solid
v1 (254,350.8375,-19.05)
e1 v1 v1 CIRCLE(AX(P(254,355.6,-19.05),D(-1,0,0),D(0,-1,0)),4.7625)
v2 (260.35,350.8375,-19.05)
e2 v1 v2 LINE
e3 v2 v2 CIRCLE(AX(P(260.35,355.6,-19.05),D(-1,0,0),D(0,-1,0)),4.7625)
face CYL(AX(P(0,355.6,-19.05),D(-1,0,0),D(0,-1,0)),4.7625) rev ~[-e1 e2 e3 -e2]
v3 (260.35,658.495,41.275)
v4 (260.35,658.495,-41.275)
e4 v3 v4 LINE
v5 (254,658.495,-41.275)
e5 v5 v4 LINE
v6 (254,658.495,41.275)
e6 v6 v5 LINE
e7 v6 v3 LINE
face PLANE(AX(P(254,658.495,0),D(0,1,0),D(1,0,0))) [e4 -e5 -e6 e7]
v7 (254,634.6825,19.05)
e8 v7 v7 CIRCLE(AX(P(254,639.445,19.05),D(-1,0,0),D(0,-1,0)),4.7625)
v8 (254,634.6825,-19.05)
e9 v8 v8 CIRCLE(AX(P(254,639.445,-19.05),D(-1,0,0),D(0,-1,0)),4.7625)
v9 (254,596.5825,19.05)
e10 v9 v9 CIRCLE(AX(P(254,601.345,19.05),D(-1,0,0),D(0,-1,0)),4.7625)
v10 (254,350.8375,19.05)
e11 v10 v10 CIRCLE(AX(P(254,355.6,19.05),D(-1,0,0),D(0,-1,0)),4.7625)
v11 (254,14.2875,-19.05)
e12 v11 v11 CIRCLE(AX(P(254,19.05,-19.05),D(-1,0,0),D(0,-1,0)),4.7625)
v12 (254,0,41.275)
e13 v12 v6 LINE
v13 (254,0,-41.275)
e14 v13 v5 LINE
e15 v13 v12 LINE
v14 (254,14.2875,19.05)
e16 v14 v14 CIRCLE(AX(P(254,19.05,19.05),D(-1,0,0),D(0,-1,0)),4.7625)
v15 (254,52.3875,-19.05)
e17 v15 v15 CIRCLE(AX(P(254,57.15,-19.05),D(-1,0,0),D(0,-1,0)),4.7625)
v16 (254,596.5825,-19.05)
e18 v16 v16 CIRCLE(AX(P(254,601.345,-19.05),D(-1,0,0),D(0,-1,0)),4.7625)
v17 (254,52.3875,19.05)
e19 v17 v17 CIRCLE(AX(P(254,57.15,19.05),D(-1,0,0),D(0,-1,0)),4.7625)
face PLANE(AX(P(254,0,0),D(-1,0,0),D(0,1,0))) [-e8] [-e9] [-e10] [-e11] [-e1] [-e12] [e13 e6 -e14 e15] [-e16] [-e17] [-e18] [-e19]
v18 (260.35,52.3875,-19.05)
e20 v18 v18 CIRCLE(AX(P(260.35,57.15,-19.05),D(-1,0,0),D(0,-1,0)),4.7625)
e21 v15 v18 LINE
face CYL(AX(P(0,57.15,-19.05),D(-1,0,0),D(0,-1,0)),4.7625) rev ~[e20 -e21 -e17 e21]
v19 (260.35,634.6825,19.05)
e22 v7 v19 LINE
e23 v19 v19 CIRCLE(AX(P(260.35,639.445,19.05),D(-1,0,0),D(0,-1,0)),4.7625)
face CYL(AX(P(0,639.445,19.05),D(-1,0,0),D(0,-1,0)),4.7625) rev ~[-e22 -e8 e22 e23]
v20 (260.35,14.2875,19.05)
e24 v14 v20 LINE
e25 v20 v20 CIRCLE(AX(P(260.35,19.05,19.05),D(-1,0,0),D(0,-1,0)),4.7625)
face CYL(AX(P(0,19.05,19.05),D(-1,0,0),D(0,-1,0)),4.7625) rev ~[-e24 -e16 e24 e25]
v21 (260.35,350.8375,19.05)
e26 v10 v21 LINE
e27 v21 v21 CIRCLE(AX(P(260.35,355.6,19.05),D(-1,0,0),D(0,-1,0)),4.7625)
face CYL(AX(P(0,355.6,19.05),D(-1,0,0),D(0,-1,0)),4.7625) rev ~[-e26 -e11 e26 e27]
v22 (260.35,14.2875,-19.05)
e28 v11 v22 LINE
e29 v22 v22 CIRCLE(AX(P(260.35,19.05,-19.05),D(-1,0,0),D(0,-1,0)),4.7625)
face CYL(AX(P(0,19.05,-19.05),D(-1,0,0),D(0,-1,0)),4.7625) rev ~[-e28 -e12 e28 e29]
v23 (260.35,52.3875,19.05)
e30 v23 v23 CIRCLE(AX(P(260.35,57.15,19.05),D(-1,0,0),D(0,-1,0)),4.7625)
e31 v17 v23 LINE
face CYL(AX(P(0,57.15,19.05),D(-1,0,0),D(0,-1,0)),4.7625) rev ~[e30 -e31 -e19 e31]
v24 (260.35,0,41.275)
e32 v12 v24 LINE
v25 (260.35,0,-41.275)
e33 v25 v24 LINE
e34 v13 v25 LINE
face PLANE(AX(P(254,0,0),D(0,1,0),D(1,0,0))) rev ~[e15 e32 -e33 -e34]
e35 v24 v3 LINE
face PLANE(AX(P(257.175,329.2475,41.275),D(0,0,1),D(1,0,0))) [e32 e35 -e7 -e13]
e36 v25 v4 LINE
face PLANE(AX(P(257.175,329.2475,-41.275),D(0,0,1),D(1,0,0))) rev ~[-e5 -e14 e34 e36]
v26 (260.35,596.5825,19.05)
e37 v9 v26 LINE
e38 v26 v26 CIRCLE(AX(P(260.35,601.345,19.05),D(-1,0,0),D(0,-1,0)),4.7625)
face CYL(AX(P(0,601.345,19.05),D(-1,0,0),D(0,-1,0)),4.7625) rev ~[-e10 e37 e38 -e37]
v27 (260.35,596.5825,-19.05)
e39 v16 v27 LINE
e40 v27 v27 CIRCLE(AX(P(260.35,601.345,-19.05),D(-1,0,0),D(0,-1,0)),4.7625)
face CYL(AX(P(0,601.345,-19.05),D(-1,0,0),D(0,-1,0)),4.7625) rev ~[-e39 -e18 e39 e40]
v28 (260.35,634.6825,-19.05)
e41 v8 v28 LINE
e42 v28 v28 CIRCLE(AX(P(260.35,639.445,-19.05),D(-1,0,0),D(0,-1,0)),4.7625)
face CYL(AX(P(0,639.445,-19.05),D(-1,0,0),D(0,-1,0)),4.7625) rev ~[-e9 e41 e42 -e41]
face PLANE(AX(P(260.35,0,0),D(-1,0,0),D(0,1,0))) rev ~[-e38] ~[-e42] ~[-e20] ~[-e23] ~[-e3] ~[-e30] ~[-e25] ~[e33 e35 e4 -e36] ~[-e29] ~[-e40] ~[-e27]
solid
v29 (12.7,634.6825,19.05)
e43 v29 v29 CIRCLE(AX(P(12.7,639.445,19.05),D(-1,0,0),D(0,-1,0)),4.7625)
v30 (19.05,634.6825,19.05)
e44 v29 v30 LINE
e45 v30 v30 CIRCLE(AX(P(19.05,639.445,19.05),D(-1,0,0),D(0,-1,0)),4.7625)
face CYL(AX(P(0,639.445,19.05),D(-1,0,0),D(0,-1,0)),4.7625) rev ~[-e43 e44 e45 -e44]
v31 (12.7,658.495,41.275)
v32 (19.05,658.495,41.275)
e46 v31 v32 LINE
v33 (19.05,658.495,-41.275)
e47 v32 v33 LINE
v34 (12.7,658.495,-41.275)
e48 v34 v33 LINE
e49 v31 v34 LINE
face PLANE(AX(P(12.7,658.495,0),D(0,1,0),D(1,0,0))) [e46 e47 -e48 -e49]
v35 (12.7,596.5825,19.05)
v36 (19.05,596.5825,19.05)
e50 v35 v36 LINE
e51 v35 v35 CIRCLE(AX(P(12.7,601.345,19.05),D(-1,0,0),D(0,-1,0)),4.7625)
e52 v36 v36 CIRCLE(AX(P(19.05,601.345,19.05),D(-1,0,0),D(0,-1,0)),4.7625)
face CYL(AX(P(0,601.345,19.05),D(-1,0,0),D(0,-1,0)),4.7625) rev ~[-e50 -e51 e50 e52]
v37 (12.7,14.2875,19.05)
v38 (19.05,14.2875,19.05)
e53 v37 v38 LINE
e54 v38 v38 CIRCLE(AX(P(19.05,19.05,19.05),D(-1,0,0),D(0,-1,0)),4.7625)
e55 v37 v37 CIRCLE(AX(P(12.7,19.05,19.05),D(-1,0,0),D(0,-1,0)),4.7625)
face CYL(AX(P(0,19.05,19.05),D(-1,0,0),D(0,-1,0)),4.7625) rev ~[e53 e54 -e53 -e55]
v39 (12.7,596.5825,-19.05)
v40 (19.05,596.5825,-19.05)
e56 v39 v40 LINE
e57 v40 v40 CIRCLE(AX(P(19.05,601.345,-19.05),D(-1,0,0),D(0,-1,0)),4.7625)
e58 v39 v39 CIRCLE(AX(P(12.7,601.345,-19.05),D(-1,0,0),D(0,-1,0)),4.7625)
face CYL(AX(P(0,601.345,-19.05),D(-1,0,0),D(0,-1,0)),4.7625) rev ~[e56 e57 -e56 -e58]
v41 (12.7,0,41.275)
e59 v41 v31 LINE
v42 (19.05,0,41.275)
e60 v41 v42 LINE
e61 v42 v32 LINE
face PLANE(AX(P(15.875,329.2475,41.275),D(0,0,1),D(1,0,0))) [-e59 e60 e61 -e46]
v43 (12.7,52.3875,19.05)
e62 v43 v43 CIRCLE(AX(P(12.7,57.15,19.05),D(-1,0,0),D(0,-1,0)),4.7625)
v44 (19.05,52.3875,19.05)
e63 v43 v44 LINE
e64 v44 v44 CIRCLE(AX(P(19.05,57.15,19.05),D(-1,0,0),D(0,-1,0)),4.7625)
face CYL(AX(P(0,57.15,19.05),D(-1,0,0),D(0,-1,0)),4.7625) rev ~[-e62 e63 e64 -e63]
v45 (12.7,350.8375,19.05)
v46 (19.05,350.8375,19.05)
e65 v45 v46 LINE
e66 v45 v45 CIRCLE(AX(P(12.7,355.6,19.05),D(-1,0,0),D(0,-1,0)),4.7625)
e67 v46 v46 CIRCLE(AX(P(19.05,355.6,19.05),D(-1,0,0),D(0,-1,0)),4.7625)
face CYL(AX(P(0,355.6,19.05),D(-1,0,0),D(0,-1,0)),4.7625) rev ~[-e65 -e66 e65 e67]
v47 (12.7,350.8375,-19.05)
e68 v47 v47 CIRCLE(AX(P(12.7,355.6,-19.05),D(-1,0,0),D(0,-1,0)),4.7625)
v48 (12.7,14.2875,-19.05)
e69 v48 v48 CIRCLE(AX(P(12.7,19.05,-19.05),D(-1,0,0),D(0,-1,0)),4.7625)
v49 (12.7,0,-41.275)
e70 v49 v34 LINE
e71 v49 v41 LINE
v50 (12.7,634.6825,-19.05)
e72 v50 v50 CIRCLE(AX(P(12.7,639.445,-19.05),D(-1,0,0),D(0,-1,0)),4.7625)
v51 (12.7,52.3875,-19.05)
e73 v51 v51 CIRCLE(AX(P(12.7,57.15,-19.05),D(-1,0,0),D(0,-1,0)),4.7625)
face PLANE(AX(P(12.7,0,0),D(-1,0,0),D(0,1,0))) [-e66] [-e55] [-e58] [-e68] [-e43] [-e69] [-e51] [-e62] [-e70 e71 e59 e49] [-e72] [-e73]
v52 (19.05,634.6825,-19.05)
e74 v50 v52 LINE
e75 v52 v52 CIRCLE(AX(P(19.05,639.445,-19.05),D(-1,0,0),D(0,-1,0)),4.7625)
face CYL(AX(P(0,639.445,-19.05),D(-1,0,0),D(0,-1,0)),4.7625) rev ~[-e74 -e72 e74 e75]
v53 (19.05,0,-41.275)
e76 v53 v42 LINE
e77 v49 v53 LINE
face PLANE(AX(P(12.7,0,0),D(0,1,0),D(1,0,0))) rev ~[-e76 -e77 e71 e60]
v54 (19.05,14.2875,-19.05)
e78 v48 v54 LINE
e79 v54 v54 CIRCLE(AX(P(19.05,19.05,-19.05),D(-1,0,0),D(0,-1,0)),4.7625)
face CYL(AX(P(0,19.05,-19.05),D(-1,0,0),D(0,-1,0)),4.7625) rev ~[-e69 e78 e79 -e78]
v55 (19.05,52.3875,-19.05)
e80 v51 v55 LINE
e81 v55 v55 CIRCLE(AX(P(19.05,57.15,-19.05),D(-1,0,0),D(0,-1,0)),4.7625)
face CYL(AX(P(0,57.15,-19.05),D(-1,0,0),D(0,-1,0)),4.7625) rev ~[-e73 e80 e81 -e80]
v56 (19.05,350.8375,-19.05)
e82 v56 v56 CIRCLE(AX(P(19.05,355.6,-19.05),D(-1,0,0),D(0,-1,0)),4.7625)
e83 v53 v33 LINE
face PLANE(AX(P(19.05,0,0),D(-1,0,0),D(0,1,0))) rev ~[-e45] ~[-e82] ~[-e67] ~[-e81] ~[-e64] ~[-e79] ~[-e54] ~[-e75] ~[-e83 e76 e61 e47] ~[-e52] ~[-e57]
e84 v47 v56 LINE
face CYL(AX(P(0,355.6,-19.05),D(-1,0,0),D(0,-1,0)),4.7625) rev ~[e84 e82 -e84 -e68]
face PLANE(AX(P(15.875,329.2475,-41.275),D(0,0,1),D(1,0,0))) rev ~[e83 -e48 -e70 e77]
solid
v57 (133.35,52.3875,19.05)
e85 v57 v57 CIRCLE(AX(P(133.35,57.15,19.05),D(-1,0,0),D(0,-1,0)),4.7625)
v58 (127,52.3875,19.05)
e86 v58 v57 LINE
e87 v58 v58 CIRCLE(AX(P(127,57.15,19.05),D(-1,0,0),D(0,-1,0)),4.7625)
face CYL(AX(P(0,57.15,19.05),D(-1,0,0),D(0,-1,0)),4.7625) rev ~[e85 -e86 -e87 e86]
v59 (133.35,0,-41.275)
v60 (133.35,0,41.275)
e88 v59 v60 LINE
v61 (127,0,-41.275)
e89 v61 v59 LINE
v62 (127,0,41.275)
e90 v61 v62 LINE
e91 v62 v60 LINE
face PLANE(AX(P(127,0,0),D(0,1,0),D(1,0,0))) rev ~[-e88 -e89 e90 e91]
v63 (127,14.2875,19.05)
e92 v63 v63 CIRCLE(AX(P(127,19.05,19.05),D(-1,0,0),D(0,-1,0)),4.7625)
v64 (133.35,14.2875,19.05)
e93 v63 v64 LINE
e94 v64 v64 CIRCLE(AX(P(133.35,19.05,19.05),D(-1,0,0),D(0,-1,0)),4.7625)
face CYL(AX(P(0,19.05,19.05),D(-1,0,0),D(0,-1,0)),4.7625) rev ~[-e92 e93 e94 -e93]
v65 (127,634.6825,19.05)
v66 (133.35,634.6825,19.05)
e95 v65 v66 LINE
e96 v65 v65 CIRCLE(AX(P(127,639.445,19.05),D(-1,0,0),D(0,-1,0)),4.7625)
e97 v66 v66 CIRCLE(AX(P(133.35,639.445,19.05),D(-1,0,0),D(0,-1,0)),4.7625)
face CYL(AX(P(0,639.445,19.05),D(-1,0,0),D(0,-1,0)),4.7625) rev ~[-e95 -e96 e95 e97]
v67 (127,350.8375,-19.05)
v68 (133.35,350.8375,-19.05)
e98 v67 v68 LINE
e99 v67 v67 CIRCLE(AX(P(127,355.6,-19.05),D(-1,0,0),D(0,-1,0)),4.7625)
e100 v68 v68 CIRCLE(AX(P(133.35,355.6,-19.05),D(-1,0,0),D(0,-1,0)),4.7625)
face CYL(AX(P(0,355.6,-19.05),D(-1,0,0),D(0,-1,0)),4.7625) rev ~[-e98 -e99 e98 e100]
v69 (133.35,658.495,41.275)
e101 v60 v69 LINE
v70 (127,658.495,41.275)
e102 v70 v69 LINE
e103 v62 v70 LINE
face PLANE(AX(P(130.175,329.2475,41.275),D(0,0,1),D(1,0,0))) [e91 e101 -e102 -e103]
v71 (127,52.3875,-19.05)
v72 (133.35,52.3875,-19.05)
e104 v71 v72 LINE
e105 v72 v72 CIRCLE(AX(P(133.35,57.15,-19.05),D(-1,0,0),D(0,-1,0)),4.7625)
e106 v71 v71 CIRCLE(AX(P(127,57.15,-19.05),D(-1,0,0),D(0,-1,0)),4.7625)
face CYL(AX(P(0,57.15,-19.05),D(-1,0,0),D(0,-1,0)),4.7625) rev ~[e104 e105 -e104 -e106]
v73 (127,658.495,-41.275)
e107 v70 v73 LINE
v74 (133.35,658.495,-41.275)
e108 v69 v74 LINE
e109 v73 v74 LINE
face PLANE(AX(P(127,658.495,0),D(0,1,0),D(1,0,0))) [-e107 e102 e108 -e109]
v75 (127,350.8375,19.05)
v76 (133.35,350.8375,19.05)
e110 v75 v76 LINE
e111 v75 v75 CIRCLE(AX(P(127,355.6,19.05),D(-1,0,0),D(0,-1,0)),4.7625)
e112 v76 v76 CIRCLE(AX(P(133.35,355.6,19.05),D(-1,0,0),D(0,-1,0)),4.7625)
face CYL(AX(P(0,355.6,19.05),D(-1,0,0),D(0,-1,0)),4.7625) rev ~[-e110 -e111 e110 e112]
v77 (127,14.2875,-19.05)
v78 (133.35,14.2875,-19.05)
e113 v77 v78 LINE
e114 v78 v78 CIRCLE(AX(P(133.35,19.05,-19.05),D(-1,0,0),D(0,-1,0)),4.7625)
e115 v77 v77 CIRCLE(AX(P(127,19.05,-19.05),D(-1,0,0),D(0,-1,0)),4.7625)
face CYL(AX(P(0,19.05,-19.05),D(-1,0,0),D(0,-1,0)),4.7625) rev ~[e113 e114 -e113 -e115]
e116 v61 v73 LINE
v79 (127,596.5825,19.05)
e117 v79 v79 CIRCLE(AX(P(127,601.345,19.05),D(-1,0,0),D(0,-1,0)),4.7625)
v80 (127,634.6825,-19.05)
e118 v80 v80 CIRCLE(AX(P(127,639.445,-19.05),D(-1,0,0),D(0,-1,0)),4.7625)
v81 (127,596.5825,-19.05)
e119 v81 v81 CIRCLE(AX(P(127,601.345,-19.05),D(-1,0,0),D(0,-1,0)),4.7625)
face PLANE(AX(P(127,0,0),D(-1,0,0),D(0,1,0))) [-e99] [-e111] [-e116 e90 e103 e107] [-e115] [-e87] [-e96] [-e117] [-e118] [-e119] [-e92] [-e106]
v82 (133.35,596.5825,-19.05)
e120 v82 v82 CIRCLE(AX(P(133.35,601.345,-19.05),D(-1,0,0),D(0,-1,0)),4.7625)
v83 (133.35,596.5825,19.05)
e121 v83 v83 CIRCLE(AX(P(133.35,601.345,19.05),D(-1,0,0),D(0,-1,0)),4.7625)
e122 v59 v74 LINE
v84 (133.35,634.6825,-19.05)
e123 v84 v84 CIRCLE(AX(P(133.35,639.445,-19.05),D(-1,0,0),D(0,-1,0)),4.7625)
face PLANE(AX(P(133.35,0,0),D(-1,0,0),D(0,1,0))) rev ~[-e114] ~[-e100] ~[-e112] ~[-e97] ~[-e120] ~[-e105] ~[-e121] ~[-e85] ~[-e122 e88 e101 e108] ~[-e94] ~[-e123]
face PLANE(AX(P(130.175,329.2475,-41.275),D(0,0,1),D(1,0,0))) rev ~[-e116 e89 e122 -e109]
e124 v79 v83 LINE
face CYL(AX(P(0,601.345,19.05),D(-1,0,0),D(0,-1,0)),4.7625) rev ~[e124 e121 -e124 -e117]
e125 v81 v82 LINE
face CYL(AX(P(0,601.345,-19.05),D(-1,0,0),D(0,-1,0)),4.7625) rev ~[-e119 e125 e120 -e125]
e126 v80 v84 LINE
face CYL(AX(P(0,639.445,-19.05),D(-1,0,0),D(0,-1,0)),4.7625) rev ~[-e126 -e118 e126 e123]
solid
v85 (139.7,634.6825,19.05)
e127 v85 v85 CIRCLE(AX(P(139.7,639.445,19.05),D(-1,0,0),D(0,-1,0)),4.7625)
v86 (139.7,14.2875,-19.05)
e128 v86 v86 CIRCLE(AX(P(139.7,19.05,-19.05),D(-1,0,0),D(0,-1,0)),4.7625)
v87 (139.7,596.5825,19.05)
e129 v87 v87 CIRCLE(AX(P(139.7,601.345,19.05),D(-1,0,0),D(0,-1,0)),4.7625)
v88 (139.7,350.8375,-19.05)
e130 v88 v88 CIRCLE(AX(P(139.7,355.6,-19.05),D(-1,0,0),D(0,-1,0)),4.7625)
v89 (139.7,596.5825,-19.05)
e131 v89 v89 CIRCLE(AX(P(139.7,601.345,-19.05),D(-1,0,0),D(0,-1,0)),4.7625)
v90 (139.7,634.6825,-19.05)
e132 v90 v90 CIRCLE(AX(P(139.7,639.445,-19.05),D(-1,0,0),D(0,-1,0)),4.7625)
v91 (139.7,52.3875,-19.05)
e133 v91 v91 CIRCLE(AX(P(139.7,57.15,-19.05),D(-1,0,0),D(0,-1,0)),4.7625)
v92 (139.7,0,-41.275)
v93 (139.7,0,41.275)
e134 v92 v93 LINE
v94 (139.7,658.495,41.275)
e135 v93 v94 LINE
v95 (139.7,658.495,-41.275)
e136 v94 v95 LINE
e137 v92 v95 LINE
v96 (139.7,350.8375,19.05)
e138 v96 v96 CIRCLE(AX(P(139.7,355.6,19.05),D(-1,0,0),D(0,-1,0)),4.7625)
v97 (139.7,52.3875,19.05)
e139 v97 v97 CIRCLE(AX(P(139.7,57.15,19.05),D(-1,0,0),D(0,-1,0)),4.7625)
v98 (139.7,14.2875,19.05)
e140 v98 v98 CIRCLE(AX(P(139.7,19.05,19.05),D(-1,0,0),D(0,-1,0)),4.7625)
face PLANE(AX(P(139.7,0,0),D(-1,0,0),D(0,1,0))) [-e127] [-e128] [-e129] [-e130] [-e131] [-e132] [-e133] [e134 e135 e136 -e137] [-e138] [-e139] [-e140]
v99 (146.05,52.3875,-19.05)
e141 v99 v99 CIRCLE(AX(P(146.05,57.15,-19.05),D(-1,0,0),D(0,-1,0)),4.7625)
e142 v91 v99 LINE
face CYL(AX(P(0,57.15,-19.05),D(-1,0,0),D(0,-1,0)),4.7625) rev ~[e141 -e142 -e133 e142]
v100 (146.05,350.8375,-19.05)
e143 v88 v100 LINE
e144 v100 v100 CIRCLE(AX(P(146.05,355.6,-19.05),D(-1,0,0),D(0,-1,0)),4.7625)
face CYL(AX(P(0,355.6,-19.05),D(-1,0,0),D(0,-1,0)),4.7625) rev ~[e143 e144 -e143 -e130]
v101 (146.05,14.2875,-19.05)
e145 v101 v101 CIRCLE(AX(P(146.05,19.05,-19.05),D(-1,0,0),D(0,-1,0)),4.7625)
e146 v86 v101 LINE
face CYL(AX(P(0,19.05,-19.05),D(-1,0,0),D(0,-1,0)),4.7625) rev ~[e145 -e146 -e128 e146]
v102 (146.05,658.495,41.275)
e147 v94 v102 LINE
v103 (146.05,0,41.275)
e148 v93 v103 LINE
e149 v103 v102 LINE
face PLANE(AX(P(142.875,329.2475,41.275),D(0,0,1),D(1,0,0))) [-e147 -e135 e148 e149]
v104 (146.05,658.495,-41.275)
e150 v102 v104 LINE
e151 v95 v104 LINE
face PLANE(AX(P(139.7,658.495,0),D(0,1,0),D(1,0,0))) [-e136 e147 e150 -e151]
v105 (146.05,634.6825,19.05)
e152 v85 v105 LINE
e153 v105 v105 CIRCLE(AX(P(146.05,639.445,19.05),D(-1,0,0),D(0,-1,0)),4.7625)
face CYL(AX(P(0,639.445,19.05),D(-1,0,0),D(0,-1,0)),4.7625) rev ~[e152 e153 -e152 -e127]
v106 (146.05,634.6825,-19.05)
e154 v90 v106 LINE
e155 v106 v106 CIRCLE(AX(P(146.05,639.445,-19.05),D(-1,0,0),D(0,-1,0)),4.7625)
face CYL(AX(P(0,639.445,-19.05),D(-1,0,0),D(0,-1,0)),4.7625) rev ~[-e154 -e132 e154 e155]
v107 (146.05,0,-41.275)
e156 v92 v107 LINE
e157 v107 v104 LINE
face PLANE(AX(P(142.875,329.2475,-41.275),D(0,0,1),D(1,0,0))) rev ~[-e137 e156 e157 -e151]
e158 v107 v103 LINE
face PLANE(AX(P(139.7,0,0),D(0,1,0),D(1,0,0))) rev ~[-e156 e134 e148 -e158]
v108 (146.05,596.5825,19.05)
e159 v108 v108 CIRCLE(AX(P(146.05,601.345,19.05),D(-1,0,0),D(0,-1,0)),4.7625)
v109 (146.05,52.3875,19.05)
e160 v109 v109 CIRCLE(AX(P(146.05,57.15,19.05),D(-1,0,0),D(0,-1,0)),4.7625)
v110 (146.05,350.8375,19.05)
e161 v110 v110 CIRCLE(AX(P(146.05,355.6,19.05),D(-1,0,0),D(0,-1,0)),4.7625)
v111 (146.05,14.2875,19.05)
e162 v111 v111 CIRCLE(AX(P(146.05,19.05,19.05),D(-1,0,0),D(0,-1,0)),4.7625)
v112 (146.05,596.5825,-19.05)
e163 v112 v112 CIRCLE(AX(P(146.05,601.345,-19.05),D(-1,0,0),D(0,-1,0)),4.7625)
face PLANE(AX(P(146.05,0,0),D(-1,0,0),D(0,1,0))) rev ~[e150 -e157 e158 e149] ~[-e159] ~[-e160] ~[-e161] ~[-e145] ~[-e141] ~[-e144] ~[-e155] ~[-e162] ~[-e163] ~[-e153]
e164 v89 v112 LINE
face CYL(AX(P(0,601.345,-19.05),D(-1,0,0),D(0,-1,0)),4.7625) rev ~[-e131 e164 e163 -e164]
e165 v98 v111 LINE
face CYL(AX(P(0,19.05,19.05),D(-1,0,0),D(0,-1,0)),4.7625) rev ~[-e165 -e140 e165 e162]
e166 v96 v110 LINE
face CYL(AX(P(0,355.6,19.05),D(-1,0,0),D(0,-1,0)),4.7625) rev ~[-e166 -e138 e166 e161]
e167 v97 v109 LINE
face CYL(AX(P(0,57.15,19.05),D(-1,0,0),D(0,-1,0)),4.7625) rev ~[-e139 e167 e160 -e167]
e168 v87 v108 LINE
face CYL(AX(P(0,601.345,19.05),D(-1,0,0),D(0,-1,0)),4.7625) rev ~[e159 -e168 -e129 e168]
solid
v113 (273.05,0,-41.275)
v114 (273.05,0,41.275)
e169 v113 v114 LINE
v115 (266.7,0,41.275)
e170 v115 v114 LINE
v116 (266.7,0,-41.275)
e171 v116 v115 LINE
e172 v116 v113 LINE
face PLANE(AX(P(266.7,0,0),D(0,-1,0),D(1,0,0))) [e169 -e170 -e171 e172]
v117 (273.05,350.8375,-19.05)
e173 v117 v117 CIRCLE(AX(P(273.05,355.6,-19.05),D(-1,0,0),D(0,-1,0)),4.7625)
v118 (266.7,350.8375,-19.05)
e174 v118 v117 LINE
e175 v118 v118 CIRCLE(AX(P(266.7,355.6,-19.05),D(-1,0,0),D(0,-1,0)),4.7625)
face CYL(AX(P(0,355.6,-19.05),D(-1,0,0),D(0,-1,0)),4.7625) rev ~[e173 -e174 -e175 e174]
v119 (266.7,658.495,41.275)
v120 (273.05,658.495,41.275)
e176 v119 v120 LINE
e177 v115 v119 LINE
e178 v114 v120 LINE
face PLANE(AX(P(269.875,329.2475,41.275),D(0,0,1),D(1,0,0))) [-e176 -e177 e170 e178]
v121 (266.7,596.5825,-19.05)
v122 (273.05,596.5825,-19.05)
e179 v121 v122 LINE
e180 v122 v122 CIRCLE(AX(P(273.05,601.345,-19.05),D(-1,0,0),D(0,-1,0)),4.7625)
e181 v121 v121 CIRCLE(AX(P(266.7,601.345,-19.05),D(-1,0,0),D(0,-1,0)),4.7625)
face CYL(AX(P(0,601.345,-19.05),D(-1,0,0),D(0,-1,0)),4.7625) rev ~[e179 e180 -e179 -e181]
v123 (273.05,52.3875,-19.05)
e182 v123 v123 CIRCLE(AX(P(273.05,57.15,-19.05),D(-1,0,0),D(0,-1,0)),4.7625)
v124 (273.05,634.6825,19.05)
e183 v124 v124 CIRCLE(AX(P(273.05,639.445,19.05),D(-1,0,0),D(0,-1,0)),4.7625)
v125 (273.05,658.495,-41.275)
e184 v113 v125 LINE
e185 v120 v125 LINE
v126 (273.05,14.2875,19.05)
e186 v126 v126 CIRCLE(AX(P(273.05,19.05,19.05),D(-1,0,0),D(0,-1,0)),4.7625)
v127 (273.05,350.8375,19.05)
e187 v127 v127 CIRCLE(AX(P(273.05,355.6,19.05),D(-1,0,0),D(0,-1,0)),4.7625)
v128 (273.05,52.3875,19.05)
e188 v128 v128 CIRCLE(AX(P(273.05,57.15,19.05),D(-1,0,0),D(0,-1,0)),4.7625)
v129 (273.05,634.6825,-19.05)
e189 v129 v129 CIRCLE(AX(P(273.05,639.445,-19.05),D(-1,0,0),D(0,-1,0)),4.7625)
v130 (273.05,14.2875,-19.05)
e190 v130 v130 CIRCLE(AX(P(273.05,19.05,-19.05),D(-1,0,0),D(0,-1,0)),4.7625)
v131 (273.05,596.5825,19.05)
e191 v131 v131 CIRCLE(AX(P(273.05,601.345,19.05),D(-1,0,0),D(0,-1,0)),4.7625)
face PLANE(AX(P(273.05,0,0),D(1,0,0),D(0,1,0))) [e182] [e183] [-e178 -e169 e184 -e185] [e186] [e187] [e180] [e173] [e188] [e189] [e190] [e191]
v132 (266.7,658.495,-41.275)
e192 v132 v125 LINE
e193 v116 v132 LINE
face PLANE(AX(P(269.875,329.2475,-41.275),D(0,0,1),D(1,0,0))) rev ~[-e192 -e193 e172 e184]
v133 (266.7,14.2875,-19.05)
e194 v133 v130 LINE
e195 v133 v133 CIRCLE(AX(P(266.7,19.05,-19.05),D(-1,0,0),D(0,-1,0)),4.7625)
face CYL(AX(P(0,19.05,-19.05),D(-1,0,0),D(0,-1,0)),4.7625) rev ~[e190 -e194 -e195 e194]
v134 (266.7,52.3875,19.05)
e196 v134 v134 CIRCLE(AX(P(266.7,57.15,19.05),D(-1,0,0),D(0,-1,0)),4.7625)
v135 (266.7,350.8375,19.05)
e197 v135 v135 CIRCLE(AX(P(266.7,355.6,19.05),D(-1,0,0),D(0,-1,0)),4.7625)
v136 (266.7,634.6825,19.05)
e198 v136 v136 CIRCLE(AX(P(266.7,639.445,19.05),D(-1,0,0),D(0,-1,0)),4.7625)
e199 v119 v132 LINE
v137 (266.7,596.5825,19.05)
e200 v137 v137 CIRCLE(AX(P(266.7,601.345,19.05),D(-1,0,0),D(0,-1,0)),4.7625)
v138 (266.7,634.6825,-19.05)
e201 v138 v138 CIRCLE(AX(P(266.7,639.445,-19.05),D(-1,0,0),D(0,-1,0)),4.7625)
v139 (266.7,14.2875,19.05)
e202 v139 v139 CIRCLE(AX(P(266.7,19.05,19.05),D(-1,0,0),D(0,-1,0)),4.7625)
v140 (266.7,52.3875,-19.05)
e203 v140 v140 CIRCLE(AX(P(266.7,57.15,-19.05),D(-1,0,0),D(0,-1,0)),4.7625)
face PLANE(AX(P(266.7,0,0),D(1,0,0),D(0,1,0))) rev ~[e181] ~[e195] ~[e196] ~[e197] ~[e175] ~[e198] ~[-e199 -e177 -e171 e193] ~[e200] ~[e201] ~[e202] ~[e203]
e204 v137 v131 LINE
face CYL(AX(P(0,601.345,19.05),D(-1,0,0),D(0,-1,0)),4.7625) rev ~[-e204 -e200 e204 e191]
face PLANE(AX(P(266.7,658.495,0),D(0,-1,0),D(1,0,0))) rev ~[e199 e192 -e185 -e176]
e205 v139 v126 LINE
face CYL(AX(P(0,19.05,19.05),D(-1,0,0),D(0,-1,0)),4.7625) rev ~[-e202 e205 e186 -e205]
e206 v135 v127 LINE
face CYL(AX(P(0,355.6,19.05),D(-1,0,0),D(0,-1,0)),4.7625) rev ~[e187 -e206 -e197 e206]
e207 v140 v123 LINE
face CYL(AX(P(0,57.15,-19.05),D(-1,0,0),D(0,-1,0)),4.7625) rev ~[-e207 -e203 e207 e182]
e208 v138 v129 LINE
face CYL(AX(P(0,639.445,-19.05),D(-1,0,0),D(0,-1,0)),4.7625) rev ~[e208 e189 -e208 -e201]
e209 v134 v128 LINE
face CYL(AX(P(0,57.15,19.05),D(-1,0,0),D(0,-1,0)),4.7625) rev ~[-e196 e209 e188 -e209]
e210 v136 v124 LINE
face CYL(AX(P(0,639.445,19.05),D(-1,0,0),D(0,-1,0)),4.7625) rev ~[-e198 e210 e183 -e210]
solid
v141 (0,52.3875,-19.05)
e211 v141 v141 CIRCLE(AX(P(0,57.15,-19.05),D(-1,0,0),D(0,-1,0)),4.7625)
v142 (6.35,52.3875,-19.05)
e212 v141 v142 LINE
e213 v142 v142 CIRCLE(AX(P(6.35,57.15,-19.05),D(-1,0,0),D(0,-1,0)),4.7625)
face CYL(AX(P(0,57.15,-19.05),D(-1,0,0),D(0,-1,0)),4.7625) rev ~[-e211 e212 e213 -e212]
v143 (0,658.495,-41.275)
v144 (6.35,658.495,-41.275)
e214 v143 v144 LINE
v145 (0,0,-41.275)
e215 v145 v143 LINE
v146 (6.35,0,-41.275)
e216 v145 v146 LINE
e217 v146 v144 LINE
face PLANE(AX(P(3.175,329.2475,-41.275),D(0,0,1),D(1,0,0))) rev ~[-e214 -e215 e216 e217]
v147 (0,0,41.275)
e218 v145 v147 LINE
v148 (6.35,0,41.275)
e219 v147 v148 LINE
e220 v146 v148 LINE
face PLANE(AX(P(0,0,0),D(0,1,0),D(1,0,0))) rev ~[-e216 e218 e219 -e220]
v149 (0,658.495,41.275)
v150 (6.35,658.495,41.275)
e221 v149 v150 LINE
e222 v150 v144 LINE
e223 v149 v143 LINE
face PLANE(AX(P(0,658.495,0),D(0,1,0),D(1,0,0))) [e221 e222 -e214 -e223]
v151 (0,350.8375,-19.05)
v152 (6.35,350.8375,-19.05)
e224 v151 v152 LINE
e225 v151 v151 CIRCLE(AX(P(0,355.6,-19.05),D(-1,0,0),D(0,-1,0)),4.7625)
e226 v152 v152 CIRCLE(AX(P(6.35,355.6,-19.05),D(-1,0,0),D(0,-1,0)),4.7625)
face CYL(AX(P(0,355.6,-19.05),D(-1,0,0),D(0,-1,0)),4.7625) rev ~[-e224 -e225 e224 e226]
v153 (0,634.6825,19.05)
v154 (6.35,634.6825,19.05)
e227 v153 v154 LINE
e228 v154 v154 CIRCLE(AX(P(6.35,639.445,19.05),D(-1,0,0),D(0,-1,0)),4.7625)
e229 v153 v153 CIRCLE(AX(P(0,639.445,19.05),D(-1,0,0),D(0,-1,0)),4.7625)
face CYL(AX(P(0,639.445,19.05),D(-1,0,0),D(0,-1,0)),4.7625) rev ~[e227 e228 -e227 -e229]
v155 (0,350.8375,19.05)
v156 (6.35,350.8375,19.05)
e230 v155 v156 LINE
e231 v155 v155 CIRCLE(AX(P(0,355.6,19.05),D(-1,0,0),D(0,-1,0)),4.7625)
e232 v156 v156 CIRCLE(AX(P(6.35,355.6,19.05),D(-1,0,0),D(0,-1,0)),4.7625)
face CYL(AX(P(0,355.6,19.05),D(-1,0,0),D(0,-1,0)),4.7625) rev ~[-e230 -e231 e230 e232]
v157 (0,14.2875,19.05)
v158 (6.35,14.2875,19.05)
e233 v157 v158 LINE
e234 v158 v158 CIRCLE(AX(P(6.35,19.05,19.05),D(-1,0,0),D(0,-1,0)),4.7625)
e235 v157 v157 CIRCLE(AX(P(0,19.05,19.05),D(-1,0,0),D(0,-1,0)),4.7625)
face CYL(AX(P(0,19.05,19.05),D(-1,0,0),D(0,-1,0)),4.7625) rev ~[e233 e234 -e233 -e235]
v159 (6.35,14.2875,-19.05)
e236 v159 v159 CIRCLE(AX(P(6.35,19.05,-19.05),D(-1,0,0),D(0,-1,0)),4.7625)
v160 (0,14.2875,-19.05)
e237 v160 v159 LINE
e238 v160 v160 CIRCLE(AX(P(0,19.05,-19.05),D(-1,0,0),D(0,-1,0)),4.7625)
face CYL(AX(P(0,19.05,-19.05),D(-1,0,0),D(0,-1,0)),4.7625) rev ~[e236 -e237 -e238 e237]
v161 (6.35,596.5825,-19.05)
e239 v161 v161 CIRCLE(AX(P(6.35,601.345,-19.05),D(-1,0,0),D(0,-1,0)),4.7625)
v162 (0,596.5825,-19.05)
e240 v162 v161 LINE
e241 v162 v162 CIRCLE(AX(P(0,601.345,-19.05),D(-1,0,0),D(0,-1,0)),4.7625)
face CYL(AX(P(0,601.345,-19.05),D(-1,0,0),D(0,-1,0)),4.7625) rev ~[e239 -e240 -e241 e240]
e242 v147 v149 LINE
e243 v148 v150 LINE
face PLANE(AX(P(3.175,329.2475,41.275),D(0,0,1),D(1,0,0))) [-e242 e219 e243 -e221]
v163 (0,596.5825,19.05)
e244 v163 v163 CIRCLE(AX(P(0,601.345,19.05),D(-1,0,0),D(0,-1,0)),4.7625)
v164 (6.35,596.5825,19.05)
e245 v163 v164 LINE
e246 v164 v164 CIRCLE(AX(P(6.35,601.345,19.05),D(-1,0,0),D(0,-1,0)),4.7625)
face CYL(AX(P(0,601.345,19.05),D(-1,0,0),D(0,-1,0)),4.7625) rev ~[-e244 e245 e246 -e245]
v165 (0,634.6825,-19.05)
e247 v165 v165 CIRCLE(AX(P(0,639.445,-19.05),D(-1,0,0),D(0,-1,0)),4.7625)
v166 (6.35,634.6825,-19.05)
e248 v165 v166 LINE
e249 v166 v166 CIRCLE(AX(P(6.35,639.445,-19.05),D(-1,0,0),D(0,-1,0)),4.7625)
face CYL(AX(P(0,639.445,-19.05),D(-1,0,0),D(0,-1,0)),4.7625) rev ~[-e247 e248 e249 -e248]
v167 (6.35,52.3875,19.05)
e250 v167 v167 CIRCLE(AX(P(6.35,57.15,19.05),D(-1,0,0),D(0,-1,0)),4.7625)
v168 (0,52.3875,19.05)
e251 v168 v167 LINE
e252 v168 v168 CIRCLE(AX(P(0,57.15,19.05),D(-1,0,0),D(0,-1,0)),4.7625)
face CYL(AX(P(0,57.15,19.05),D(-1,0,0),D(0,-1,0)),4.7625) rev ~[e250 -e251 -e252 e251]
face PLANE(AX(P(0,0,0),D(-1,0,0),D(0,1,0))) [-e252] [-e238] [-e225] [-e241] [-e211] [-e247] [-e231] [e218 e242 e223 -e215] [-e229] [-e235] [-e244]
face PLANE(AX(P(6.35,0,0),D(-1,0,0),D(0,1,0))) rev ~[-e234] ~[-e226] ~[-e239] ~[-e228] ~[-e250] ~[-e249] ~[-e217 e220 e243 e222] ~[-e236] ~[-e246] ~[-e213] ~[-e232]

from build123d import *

# Parameters (mm, degrees)
F0_W     = 6.35
F0_H     = 658.495
F1_W     = 6.35
F1_H     = 658.495
F2_DEPTH = 41.275
F3_R     = 4.7625
F4_DEPTH = 273.051


with BuildPart() as f2:
    # F0 (on Top) + F1 (on Top) → F2 (new body, symmetric)
    with BuildSketch(Plane.XY):
        with Locations((3.175, 329.2475)):
            Rectangle(F0_W, F0_H)
        with Locations((130.175, 329.2475)):
            Rectangle(F0_W, F0_H)
        with Locations((257.175, 329.2475)):
            Rectangle(F0_W, F0_H)
    with BuildSketch(Plane.XY):
        with Locations((15.875, 329.2475)):
            Rectangle(F1_W, F1_H)
        with Locations((142.875, 329.2475)):
            Rectangle(F1_W, F1_H)
        with Locations((269.875, 329.2475)):
            Rectangle(F1_W, F1_H)
    extrude(amount=F2_DEPTH, both=True)

    # F3 (on face) → F4 (cut, through all)
    with BuildSketch(Plane(origin=(0, 0, 0), x_dir=(0, -1, 0), z_dir=(-1, 0, 0))):
        with Locations((-19.05, 19.05)):
            Circle(F3_R)
        with Locations((-57.15, 19.05)):
            Circle(F3_R)
        with Locations((-57.15, -19.05)):
            Circle(F3_R)
        with Locations((-19.05, -19.05)):
            Circle(F3_R)
        with Locations((-639.445, 19.05)):
            Circle(F3_R)
        with Locations((-601.345, 19.05)):
            Circle(F3_R)
        with Locations((-601.345, -19.05)):
            Circle(F3_R)
        with Locations((-639.445, -19.05)):
            Circle(F3_R)
        with Locations((-355.6, 19.05)):
            Circle(F3_R)
        with Locations((-355.6, -19.05)):
            Circle(F3_R)
    extrude(amount=-F4_DEPTH, mode=Mode.SUBTRACT)


solid = f2.part
